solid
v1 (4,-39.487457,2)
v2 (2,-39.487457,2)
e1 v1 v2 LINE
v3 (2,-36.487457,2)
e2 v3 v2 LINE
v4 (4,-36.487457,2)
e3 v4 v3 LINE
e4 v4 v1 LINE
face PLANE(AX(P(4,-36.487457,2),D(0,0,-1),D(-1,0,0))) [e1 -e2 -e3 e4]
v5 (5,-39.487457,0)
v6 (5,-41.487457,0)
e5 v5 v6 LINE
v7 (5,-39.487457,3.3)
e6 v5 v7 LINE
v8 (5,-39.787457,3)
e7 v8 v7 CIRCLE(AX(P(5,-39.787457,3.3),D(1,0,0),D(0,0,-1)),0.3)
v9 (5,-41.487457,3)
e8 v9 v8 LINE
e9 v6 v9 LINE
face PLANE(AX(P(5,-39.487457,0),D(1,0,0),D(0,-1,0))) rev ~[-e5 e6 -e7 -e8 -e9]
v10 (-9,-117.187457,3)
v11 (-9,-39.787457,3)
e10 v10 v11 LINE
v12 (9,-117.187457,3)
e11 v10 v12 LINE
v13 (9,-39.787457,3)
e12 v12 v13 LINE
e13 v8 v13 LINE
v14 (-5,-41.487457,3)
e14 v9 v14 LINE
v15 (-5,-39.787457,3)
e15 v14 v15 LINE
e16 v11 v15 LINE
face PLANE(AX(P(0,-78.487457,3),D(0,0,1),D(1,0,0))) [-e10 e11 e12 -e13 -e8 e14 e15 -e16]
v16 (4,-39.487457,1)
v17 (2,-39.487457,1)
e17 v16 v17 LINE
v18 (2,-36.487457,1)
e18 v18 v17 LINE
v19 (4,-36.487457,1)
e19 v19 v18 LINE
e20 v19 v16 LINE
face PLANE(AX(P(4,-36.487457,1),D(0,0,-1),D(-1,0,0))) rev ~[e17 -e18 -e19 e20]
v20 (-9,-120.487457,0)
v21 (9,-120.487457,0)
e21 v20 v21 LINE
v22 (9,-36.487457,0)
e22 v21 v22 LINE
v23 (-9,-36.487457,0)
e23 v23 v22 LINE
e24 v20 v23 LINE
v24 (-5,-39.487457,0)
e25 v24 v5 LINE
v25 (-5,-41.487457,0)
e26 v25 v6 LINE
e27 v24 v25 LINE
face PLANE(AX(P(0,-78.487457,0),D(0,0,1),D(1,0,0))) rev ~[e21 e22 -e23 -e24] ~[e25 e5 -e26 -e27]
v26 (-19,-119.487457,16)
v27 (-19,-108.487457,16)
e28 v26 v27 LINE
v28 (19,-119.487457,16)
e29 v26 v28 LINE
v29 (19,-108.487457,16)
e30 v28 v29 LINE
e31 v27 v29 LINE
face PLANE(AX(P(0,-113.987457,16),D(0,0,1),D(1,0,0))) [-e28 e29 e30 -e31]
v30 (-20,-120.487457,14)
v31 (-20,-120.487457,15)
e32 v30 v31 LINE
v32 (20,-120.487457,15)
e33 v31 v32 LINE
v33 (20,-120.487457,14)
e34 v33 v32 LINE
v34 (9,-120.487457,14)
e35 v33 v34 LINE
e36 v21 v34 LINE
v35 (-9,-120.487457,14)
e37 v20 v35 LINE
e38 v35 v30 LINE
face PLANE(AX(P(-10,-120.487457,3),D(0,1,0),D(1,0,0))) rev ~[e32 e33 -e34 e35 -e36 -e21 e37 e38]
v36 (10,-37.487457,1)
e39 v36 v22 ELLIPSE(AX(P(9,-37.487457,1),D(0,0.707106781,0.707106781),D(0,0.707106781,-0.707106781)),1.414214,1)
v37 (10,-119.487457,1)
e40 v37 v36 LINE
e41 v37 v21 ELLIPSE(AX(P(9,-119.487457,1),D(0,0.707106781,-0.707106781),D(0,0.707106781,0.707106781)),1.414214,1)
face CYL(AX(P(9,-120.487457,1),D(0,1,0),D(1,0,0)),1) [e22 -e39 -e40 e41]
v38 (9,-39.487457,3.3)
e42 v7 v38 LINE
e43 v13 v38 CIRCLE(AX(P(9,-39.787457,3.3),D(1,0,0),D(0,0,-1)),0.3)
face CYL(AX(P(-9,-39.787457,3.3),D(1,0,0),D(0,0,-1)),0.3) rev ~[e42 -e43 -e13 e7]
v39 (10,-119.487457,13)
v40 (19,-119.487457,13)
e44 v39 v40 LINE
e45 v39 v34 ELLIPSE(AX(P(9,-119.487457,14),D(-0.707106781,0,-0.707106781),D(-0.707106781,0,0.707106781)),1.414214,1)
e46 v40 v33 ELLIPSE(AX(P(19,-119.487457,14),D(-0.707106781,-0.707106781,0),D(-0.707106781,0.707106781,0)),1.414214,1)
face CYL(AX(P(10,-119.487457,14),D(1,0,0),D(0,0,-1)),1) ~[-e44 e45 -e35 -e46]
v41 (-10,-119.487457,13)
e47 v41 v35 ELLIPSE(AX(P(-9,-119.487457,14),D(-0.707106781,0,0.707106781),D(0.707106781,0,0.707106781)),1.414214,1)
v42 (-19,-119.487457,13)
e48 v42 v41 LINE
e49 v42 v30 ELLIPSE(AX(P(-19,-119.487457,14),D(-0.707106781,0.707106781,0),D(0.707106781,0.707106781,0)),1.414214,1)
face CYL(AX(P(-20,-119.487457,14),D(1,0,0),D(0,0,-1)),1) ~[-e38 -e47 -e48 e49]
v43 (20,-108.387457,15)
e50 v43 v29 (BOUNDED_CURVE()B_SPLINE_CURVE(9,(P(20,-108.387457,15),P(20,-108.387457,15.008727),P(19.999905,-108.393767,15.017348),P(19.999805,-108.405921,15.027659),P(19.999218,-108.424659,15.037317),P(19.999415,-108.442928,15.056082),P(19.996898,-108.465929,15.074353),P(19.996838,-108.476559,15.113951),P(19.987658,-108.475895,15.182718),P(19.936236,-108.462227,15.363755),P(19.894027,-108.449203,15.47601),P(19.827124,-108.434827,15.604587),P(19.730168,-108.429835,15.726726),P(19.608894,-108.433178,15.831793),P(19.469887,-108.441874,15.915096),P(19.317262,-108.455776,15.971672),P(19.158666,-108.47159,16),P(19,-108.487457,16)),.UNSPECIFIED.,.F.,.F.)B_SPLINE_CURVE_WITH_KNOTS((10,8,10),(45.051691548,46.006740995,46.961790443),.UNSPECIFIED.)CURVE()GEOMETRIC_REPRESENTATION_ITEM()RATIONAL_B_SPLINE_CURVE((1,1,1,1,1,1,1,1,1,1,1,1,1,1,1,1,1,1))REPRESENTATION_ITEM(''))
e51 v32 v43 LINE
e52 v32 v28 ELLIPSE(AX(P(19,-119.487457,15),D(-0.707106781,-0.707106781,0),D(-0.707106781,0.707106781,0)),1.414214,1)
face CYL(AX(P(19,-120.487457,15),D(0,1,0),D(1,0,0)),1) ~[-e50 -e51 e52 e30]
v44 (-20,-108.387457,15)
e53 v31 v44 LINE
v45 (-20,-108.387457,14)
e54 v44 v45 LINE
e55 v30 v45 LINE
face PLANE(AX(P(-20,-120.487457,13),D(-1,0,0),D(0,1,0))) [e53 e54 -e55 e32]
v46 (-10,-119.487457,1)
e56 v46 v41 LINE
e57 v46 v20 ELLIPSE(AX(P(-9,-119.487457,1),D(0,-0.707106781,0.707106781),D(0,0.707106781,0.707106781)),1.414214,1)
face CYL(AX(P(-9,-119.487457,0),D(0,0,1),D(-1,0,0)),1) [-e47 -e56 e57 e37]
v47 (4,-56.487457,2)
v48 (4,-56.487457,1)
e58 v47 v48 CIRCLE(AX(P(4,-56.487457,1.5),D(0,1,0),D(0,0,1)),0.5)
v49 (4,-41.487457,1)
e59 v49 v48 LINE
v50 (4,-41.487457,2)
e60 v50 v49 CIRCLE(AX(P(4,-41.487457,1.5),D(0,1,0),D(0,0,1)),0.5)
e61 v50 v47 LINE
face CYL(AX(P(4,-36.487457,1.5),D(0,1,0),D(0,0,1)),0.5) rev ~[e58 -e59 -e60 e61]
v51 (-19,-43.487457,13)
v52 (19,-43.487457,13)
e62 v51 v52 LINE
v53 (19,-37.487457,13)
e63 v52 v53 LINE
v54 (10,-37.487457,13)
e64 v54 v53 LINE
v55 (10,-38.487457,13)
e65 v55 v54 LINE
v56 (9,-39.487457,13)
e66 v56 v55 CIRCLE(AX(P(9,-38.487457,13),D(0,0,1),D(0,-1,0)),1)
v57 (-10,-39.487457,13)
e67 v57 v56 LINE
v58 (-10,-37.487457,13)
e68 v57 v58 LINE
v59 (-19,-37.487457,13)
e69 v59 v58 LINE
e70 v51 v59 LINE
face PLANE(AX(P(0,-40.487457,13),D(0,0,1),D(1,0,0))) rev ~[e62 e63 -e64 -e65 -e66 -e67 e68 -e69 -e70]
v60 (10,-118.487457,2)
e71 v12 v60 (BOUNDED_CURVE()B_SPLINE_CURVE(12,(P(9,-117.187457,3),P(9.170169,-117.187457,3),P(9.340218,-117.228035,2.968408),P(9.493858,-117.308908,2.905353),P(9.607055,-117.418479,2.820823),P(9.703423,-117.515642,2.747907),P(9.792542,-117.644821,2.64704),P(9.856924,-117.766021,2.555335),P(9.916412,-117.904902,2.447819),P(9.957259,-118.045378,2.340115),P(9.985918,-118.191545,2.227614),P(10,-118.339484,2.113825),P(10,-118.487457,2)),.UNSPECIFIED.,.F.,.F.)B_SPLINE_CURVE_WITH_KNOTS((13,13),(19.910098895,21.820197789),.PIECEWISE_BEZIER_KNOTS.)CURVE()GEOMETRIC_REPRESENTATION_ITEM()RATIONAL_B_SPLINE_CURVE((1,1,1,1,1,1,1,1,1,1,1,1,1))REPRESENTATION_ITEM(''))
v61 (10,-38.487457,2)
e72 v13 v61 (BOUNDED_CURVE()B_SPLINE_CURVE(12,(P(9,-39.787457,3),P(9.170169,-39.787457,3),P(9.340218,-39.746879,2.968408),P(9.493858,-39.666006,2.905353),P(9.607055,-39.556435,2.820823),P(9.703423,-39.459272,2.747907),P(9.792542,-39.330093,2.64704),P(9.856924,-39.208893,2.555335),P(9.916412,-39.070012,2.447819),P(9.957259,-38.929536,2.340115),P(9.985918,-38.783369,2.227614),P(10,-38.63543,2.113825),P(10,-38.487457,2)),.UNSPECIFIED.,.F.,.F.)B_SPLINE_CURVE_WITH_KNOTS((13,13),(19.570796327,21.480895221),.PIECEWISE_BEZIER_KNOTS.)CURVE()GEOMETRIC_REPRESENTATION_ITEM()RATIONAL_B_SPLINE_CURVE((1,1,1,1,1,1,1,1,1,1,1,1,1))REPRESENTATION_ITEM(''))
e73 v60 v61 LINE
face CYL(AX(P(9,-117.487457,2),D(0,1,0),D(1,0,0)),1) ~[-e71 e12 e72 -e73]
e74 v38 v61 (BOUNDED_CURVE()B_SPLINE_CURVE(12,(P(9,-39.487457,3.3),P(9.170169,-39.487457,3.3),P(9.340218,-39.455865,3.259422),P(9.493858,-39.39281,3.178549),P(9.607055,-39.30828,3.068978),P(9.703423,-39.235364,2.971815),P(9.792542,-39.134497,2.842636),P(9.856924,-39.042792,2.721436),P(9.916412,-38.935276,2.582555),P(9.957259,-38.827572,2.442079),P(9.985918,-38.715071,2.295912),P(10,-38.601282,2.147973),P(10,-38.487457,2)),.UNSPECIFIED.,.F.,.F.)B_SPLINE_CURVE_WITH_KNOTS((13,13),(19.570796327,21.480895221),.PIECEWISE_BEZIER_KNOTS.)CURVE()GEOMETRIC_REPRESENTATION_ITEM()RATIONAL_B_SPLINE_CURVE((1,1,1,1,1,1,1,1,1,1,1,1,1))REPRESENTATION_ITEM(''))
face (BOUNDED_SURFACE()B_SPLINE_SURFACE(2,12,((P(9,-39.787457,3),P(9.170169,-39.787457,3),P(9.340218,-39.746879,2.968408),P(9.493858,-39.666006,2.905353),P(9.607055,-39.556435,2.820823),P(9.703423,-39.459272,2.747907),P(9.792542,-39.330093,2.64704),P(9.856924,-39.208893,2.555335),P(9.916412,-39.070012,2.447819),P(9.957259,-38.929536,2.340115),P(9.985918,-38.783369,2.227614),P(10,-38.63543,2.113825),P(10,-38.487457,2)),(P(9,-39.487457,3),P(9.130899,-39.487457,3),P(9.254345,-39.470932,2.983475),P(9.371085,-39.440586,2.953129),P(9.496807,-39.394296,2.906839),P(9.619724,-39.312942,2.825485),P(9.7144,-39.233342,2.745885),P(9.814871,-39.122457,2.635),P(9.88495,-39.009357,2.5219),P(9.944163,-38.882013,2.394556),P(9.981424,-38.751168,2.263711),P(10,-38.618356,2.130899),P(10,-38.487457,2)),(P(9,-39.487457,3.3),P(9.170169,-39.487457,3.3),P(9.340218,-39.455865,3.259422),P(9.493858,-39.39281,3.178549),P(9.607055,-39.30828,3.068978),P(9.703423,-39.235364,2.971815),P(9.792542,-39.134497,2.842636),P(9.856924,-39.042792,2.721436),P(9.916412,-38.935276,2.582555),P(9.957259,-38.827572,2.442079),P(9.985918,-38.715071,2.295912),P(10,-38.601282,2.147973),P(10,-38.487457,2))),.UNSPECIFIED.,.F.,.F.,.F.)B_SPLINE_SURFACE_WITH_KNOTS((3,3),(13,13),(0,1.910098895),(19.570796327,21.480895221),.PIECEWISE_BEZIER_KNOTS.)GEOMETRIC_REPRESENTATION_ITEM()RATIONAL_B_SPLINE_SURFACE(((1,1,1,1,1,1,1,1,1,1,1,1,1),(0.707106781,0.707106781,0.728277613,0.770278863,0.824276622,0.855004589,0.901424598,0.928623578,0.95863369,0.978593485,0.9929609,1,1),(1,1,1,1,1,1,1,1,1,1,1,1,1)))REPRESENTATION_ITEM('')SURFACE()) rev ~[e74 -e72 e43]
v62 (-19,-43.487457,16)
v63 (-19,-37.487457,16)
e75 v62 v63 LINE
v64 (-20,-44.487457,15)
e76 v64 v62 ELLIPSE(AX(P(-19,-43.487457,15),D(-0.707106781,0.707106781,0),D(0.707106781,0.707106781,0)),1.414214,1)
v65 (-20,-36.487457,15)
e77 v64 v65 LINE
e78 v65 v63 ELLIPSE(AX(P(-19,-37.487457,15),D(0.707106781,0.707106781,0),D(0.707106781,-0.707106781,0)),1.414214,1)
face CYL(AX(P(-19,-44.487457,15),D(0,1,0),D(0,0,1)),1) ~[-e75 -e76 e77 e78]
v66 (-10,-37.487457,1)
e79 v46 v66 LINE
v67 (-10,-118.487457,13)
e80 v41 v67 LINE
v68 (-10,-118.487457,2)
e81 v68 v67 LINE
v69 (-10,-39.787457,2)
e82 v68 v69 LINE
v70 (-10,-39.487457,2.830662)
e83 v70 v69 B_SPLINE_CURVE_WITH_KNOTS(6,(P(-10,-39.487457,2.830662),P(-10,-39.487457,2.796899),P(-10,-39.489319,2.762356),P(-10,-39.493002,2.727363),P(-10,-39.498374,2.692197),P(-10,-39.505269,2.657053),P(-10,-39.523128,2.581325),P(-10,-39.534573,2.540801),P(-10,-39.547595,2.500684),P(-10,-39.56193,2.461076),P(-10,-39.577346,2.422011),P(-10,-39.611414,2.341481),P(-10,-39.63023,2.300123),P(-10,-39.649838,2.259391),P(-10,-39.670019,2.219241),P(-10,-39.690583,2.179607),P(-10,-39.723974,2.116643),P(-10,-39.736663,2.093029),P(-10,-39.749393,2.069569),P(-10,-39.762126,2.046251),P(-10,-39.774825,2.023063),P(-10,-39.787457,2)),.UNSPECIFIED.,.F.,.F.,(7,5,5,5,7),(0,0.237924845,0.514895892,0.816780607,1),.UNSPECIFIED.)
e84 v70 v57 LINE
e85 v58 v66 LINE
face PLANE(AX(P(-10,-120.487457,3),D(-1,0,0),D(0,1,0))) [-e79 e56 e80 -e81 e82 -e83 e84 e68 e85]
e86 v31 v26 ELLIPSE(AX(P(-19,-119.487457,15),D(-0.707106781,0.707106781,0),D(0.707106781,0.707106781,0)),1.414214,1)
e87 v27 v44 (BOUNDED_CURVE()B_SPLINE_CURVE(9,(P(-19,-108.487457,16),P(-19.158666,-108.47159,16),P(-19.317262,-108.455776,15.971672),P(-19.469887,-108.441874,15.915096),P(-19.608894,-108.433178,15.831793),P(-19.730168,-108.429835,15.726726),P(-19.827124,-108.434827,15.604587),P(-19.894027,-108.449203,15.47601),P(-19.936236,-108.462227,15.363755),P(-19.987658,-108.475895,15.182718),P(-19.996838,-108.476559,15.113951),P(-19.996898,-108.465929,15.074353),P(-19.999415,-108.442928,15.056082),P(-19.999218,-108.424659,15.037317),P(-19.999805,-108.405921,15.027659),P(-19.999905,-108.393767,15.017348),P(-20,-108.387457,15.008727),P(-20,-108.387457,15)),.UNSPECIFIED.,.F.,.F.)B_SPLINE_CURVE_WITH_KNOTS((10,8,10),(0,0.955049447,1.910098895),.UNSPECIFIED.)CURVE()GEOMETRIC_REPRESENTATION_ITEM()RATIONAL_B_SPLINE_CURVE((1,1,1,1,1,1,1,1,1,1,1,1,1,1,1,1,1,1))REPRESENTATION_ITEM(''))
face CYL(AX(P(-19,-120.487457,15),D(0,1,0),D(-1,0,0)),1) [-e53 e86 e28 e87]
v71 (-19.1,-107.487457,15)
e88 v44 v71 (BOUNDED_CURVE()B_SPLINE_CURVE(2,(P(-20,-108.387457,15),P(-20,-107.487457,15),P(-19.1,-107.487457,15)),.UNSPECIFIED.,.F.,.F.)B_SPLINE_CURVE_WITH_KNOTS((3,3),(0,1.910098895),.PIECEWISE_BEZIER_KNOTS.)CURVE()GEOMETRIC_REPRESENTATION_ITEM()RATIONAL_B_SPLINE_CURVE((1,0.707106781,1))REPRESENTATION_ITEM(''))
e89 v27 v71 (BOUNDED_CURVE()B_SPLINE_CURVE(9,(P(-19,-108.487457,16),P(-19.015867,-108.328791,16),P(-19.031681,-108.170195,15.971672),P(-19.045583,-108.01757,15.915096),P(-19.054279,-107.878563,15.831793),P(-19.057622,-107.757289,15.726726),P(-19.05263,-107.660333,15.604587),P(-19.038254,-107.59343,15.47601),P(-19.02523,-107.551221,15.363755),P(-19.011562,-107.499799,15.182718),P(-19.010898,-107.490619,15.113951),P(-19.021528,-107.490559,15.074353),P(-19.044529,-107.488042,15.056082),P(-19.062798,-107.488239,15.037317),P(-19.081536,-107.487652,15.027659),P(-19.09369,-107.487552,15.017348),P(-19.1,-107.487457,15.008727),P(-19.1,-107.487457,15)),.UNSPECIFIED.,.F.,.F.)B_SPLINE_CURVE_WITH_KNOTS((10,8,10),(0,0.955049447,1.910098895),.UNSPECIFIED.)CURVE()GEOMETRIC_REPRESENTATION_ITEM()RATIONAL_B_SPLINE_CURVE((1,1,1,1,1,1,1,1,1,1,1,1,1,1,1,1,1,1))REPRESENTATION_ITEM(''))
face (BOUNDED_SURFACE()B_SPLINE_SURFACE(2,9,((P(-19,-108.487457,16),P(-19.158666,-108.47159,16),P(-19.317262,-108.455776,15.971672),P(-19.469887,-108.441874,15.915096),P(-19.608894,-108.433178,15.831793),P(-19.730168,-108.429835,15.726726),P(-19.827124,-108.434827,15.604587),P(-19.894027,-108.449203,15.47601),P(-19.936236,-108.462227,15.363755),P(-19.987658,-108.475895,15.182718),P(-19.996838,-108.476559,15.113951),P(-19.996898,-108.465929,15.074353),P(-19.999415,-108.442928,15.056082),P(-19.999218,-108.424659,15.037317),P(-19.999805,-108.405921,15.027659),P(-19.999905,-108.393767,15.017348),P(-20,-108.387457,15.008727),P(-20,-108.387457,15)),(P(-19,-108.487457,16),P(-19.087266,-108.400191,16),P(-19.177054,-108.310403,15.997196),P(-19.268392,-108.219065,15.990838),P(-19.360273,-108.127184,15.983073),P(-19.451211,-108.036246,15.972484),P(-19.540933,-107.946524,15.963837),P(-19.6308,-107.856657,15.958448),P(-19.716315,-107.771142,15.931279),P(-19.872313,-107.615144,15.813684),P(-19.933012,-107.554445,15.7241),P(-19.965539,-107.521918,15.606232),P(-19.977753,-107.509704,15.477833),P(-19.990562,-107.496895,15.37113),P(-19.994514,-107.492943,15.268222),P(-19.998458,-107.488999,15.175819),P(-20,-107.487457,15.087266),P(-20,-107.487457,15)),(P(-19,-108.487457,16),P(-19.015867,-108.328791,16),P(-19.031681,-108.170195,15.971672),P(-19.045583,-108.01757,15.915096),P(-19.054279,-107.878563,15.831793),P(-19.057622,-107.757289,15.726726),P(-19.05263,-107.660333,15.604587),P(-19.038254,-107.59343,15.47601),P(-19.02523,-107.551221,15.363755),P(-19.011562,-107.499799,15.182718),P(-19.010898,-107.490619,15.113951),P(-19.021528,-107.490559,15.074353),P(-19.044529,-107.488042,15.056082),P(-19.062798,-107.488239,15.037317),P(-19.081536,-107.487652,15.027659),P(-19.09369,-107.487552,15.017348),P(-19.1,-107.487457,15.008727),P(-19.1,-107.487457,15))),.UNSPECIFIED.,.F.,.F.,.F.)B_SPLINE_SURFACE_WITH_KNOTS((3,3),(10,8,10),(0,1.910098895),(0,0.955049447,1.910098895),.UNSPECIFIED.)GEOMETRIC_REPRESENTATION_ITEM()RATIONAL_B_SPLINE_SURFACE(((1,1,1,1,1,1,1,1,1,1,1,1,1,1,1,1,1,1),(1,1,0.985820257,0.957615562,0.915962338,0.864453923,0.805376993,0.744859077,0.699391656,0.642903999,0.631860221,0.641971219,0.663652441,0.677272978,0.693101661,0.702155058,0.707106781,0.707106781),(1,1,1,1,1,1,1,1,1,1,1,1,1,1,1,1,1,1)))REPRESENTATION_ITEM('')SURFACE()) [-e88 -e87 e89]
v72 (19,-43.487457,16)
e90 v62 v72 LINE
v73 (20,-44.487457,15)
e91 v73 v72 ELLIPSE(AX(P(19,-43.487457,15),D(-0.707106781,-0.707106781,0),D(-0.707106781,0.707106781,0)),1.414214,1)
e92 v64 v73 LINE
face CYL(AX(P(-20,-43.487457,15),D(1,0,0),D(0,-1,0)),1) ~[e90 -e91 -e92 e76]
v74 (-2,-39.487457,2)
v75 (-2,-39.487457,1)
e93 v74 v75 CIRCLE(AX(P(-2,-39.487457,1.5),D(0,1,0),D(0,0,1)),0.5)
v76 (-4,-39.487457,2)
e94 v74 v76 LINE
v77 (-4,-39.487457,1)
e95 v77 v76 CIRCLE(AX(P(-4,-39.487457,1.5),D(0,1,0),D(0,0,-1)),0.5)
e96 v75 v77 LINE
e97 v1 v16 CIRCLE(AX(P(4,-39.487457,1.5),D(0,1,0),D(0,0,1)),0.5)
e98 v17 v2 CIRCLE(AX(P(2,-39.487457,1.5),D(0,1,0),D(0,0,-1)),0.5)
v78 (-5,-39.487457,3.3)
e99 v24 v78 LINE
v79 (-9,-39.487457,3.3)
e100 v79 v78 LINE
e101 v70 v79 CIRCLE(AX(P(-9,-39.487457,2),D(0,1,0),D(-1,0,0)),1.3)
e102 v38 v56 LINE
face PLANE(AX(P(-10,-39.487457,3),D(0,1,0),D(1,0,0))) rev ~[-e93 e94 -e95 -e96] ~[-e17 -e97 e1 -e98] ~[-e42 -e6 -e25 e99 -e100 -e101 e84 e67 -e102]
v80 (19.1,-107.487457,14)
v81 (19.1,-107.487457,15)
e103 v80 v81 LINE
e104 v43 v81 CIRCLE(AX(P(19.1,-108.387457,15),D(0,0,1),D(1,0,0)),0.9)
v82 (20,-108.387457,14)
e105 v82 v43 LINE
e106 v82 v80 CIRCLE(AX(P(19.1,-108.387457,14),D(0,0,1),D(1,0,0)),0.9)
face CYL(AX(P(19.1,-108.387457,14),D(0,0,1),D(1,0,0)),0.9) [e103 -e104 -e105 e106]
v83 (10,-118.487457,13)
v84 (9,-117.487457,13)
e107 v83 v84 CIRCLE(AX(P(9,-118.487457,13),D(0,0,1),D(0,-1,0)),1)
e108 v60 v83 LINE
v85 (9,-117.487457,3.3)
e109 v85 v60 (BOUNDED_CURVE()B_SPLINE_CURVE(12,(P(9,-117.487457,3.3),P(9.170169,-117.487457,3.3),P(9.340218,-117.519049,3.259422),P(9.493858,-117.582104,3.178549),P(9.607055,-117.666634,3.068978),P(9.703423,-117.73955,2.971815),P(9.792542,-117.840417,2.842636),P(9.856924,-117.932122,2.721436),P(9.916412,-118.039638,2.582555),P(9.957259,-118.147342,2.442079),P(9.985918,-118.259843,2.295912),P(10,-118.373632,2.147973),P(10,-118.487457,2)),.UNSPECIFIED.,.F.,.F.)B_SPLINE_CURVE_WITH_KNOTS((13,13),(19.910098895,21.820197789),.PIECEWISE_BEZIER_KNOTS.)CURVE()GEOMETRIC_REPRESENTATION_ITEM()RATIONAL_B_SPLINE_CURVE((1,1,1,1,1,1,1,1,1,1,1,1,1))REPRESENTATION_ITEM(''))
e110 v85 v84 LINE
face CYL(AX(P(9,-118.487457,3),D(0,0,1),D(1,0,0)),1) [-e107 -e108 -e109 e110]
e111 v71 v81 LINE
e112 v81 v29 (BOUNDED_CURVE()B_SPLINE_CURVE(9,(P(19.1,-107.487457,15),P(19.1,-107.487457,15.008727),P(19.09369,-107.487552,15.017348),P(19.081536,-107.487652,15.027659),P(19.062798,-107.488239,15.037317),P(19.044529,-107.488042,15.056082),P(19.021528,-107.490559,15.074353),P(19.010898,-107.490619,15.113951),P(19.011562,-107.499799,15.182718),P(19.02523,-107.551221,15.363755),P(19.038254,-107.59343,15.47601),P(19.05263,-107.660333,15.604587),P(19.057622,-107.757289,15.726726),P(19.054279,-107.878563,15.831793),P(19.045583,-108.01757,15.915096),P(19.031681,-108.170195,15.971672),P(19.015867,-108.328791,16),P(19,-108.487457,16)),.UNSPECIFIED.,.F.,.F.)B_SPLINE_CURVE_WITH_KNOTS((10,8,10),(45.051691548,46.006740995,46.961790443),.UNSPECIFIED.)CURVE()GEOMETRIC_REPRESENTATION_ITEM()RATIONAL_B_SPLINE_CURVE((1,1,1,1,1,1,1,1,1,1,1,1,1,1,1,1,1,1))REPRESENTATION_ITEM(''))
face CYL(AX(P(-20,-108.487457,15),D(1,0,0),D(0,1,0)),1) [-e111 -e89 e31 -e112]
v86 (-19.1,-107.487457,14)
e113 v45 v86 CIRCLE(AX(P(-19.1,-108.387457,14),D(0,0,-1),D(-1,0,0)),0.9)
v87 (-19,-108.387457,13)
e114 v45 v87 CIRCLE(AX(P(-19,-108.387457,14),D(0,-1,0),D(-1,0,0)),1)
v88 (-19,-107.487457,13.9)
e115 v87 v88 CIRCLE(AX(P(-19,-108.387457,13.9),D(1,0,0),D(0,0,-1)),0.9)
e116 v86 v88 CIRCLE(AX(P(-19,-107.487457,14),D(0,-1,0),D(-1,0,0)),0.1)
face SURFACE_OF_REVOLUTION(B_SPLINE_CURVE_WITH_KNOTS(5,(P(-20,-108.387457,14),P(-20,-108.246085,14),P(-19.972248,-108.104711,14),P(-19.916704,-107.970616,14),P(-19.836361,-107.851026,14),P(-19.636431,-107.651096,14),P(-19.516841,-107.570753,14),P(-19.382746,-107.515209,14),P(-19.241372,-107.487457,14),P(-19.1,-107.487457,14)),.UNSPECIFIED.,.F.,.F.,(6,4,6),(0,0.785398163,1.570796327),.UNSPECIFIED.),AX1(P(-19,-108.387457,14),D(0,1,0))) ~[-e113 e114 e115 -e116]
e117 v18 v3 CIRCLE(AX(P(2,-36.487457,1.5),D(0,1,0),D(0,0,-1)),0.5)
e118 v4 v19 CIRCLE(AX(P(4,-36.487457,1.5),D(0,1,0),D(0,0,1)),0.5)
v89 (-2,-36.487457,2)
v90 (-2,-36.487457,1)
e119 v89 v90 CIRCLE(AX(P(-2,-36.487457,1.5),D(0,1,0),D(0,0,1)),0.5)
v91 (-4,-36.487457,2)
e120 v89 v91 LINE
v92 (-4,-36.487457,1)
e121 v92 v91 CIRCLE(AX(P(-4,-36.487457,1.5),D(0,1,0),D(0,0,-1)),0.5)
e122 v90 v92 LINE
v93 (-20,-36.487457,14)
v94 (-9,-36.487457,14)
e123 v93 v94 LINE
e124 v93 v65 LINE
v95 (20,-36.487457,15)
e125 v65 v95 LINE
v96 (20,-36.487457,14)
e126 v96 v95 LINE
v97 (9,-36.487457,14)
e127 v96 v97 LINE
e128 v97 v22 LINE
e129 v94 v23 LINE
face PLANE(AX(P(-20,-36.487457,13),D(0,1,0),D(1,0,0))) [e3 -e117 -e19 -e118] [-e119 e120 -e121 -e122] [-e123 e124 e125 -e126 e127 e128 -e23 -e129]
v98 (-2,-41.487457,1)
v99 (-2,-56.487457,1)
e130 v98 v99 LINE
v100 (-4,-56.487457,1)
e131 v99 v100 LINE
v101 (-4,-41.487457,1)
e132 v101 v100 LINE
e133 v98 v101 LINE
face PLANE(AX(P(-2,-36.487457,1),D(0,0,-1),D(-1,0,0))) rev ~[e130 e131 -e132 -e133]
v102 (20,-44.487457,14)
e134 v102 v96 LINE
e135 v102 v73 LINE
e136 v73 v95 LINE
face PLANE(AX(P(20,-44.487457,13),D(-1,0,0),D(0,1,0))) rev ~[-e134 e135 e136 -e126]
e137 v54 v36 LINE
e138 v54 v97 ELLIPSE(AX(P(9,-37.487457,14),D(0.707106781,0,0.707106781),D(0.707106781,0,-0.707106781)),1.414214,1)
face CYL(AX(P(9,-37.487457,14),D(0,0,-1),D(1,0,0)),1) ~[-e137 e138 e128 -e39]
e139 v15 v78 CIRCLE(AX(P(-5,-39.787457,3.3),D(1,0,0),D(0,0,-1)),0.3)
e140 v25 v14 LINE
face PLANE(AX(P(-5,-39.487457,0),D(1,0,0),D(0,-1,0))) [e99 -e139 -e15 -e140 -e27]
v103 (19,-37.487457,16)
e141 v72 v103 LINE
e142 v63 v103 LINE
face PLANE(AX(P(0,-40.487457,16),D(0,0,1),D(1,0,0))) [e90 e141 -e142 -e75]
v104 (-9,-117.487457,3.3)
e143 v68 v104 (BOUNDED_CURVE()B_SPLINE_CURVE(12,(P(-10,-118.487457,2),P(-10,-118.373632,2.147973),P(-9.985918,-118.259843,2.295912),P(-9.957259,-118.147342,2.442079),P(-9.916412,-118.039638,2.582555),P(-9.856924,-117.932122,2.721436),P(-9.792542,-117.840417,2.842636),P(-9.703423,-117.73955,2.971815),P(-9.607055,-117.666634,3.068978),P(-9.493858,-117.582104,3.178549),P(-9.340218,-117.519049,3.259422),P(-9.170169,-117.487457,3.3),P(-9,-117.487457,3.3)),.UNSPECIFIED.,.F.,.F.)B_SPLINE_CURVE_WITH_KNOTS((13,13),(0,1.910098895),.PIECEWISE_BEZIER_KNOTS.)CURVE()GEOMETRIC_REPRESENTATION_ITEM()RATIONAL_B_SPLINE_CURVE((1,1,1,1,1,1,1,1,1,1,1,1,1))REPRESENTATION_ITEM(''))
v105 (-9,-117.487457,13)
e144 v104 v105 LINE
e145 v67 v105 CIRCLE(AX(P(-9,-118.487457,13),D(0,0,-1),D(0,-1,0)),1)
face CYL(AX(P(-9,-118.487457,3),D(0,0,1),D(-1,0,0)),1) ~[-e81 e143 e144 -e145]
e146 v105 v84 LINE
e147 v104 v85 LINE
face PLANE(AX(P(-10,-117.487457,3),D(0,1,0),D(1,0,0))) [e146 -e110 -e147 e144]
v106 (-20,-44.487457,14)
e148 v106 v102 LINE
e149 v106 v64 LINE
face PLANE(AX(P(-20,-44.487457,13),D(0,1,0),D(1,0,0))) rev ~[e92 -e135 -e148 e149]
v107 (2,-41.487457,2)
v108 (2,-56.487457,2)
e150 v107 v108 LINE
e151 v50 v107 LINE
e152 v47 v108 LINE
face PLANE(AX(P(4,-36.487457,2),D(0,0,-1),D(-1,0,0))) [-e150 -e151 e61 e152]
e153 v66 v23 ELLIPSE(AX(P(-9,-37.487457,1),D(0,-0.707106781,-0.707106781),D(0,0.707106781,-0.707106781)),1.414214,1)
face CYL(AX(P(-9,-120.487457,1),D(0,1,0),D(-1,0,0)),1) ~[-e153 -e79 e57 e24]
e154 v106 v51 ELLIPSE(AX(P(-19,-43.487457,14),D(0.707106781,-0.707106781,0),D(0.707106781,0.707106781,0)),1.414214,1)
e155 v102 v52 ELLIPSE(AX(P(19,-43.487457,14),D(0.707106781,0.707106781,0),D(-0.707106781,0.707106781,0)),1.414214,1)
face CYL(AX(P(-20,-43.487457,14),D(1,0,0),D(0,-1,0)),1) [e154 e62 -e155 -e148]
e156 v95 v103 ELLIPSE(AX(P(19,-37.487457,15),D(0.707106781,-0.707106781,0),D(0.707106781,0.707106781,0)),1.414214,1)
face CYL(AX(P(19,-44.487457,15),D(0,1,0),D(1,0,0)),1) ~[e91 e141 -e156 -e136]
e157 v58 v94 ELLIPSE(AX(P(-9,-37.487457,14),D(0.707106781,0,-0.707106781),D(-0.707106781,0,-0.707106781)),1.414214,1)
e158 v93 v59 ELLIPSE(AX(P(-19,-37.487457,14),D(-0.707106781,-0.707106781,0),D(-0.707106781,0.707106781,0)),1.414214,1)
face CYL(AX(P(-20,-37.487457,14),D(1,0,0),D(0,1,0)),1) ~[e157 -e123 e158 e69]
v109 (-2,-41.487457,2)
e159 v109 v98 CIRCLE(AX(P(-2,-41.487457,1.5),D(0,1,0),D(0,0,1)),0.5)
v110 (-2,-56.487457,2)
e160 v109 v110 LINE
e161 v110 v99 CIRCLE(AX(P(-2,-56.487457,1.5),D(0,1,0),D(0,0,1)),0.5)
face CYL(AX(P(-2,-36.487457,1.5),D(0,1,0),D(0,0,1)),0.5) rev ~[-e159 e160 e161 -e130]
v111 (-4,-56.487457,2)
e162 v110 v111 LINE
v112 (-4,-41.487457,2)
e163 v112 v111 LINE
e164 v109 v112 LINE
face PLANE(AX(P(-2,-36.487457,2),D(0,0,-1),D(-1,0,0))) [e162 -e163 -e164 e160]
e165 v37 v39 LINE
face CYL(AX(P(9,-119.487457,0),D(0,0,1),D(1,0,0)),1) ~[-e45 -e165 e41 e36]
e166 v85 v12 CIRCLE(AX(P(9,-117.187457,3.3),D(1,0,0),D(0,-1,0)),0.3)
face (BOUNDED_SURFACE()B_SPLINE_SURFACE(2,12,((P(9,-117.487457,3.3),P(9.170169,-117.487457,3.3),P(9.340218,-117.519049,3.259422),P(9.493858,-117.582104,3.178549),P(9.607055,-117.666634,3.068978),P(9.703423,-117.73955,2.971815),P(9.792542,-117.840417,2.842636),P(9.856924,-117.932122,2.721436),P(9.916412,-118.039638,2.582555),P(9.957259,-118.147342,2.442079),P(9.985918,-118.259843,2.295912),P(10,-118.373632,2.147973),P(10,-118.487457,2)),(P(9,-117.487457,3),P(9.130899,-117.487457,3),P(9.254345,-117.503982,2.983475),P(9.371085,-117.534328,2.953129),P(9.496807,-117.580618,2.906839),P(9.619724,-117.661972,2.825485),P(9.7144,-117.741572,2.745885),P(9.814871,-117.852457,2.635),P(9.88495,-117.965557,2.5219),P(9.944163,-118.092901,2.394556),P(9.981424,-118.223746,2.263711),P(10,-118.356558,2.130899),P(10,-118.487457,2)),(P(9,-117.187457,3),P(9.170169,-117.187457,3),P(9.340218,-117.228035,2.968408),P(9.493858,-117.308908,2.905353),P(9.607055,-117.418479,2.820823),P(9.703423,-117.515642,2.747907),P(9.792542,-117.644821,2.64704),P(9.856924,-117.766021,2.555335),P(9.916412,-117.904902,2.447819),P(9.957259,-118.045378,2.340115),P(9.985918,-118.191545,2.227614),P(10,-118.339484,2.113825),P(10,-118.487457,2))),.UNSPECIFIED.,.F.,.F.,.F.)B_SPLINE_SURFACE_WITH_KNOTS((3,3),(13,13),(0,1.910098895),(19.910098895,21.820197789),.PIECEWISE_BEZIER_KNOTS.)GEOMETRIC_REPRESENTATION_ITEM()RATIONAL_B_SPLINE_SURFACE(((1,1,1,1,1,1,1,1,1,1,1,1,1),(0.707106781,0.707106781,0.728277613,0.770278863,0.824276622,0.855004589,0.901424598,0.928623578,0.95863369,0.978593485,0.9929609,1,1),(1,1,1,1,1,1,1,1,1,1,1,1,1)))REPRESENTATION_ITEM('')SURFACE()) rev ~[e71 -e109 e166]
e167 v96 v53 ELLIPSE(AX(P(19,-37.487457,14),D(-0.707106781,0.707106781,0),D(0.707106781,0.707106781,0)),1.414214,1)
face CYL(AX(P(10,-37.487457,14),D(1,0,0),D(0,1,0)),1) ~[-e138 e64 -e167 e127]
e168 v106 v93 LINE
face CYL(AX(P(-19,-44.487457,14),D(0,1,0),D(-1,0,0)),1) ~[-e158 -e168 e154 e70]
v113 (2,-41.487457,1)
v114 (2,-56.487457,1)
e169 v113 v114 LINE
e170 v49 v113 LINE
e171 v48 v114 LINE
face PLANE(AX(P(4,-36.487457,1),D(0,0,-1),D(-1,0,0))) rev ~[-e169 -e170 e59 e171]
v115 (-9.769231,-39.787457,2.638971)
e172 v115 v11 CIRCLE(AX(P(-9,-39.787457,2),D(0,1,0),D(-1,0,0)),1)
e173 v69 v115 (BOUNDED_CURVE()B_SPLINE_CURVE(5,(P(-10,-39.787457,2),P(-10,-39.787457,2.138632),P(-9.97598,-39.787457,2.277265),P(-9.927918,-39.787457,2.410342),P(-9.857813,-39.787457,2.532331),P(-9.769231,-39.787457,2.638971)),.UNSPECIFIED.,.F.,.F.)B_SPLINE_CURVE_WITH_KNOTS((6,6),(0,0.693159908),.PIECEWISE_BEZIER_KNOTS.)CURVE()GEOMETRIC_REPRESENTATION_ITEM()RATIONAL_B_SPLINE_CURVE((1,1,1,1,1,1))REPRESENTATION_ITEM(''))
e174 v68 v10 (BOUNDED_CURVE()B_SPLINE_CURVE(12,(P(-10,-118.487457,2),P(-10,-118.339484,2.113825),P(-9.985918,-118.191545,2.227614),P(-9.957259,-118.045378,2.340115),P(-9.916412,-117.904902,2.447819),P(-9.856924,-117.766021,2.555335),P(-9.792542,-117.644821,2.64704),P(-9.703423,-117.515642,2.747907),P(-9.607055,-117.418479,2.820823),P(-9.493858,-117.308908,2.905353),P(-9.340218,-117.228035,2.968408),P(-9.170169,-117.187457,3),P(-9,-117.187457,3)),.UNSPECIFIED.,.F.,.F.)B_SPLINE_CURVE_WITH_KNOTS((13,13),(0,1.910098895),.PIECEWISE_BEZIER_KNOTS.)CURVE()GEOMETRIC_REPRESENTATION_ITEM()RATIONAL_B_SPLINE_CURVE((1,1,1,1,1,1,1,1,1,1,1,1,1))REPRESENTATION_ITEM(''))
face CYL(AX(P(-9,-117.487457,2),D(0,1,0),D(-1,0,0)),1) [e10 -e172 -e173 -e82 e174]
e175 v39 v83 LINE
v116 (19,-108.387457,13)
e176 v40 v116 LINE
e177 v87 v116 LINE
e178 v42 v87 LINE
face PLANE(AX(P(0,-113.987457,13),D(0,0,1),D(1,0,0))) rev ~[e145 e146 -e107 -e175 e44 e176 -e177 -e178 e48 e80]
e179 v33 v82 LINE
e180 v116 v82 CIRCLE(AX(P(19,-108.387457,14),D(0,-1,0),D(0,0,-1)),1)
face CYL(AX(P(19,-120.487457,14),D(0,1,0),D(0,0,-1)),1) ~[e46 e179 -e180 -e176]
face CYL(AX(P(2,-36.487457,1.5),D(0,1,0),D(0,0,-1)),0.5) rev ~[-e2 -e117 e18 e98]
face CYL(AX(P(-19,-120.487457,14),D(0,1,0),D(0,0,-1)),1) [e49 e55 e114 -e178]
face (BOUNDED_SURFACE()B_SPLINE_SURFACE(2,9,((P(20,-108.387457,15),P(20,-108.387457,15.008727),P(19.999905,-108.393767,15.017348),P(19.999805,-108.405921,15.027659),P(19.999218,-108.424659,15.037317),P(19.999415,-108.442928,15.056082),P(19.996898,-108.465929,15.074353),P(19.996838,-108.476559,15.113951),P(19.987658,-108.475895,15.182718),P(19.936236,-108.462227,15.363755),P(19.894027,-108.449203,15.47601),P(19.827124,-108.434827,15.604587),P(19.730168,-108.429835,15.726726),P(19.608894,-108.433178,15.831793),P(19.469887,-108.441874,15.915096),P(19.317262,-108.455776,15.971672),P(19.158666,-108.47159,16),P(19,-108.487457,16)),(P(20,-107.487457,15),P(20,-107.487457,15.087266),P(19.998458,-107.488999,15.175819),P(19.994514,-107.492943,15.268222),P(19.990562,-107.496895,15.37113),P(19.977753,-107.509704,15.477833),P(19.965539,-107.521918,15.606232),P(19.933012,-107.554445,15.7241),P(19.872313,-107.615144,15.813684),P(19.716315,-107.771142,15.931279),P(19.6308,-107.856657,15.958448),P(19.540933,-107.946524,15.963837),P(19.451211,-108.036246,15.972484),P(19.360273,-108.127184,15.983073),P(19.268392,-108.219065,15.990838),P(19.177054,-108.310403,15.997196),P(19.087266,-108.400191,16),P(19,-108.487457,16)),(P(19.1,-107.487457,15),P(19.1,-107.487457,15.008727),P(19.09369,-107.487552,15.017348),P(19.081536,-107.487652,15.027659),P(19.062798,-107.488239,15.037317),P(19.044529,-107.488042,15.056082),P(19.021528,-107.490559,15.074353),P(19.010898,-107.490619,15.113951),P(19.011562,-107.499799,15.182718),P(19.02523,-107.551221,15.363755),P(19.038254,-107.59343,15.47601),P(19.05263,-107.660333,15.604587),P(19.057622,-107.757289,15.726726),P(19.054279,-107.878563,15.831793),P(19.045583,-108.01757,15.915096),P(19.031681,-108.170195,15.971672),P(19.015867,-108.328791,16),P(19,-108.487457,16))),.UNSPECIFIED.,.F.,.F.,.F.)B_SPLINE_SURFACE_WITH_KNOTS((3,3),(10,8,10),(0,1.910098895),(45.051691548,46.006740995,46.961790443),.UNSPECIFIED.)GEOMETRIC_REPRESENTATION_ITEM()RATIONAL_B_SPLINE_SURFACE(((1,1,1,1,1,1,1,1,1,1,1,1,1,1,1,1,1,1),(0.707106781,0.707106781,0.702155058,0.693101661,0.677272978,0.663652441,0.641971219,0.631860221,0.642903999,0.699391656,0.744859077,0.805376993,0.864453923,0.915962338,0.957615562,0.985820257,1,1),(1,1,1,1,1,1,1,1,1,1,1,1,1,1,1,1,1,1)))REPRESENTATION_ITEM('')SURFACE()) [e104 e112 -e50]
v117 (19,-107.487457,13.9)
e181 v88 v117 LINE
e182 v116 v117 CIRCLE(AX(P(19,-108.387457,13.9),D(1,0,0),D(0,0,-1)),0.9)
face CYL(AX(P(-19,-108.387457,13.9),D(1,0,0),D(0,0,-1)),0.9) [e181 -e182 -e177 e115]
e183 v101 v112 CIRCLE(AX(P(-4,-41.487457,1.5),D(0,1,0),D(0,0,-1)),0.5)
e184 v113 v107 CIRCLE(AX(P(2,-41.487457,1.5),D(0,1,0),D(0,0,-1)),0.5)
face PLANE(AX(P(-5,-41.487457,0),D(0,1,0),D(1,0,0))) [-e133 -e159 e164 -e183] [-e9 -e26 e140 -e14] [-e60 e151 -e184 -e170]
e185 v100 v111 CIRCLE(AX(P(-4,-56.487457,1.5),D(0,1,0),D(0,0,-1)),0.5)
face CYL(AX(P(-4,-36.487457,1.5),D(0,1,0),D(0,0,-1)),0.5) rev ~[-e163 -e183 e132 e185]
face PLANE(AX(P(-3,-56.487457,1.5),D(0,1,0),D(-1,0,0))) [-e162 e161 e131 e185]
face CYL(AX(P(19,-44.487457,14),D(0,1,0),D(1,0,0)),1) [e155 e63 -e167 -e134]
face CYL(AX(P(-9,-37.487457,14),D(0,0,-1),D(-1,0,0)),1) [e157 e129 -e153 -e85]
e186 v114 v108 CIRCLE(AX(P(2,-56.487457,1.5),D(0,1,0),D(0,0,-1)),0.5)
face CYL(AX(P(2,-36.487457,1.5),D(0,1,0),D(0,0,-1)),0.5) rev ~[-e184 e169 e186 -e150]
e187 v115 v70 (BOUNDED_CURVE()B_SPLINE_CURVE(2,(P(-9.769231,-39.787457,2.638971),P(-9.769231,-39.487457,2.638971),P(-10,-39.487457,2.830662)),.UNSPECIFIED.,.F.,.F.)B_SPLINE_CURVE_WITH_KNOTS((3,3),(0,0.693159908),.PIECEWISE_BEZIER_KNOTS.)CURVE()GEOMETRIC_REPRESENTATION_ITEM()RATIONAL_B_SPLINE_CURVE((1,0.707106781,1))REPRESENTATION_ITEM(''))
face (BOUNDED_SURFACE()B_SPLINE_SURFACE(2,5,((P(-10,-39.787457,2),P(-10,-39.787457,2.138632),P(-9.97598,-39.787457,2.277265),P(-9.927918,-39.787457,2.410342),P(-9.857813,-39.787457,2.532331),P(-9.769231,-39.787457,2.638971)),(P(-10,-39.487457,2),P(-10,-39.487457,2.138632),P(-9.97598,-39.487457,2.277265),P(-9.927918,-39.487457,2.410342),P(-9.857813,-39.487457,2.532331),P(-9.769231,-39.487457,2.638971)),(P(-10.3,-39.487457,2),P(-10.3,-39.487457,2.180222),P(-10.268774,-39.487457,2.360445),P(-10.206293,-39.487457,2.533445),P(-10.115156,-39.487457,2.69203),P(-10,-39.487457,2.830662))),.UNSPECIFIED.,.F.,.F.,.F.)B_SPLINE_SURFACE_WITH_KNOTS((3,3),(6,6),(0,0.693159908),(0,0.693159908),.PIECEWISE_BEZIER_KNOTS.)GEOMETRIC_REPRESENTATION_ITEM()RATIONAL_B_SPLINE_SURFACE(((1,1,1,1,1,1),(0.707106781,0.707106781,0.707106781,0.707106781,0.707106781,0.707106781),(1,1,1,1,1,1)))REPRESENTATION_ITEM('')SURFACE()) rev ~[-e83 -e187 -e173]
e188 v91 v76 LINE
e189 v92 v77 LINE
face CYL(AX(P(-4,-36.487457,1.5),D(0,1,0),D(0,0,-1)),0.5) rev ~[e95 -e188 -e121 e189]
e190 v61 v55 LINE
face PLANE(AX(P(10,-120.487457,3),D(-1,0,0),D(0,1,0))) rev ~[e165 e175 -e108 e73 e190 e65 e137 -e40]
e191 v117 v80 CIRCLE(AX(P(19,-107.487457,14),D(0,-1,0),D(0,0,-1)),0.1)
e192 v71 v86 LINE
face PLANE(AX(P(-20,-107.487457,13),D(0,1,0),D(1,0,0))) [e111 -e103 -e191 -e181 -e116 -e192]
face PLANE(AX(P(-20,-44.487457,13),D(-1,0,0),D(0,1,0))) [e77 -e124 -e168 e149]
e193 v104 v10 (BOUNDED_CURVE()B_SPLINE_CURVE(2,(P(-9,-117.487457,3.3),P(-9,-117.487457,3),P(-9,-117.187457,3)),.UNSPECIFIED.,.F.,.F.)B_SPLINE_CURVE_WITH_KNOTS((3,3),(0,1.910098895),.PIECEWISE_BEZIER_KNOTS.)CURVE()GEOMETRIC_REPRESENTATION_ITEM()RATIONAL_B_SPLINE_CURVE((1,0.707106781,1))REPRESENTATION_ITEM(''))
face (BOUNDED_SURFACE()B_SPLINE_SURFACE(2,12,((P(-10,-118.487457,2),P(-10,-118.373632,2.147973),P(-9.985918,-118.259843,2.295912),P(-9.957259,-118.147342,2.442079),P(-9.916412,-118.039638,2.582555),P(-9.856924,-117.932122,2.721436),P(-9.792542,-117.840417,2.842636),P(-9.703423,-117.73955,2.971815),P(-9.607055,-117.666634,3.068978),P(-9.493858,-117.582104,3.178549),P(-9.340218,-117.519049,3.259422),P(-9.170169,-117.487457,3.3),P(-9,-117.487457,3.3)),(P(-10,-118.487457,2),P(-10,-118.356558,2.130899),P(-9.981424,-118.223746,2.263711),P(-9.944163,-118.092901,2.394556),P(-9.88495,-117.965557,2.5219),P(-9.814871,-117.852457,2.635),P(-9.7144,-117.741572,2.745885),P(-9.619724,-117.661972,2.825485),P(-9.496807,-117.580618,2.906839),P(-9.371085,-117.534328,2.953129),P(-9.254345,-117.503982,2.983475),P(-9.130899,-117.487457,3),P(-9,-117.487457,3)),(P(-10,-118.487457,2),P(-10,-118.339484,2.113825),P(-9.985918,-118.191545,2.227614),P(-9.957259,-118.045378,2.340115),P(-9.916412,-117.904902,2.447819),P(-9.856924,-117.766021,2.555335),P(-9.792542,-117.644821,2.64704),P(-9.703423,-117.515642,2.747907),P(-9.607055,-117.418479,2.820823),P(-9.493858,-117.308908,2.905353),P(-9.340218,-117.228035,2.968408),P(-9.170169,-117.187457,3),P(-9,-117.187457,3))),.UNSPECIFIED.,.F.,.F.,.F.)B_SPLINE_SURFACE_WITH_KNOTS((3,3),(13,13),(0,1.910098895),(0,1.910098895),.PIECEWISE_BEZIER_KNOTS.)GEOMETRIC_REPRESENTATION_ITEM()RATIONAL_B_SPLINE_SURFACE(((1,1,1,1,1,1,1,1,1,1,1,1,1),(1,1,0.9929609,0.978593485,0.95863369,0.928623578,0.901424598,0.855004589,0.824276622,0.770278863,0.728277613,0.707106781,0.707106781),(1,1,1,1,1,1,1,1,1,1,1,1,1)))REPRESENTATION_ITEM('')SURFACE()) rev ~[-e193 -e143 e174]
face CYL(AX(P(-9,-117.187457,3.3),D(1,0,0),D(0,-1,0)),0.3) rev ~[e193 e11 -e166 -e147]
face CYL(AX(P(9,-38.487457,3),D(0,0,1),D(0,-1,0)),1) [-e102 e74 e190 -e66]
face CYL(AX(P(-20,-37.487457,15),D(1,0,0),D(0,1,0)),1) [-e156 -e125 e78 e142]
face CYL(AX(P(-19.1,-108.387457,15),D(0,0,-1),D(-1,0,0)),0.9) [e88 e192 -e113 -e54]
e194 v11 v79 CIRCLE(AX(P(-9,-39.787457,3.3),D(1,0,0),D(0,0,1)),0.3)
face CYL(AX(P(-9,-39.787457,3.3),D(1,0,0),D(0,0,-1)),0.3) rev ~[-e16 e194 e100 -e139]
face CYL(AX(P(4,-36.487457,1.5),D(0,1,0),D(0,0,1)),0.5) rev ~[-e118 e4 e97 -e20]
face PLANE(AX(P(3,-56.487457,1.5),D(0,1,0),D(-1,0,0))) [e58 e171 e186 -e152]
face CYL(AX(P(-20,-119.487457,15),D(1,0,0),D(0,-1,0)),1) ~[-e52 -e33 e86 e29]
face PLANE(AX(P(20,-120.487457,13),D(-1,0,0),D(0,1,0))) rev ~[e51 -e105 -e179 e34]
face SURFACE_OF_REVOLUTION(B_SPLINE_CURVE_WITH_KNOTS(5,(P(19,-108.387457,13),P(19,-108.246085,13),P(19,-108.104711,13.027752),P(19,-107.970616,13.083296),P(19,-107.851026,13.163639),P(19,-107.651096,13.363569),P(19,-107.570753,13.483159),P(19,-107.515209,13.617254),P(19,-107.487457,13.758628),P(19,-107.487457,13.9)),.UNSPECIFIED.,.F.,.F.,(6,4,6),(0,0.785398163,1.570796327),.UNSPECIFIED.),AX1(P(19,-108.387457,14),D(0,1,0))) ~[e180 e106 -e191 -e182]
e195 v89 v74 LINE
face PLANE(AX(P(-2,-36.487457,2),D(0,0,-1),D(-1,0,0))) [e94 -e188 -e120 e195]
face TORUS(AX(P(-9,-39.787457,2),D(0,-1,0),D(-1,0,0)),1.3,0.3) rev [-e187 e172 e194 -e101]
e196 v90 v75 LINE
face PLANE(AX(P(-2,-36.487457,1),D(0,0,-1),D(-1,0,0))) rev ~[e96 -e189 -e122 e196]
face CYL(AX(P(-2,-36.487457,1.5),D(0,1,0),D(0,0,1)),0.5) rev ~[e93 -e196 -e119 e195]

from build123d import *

# Parameters (mm, degrees)
SKETCH001_W     = 20
SKETCH001_H     = 84
PAD001_DEPTH    = 3
SKETCH002_W     = 20
SKETCH002_H     = 3
PAD002_DEPTH    = 10
SKETCH003_W     = 40
SKETCH003_H     = 8
SKETCH003_H_2   = 13
PAD003_DEPTH    = 3
FILLET_R        = 1
FILLET001_R     = 1
FILLET002_R     = 1
FILLET003_R     = 0.3
FILLET004_R     = 0.9
SKETCH009_W     = 10
SKETCH009_H     = 2
POCKET004_DEPTH = 5
POCKET005_DEPTH = 20


with BuildPart() as part:
    # Sketch001 → Pad001 (new body)
    with BuildSketch(Plane.XY):
        with Locations((0, -78.487457)):
            Rectangle(SKETCH001_W, SKETCH001_H)
    extrude(amount=PAD001_DEPTH)

    # Sketch002 → Pad002 (new body)
    with BuildSketch(Plane.XY.offset(3)):
        with Locations((0, -118.987457)):
            Rectangle(SKETCH002_W, SKETCH002_H)
        with Locations((0, -37.987457)):
            Rectangle(SKETCH002_W, SKETCH002_H)
    extrude(amount=PAD002_DEPTH)

    # Sketch003 → Pad003 (new body)
    with BuildSketch(Plane.XY.offset(13)):
        with Locations((0, -40.487457)):
            Rectangle(SKETCH003_W, SKETCH003_H)
        with Locations((0, -113.987457)):
            Rectangle(SKETCH003_W, SKETCH003_H_2)
    extrude(amount=PAD003_DEPTH)

    # Fillet
    fillet_edges = [part.edges().sort_by_distance(p)[0] for p in [
        (20, -113.987457, 16),
        (20, -113.987457, 13),
        (-20, -113.987457, 16),
        (0, -107.487457, 16),
        (0, -120.487457, 16),
        (-20, -113.987457, 13),
        (-15, -120.487457, 13),
        (15, -120.487457, 13),
    ]]
    fillet(fillet_edges, radius=FILLET_R)

    # Fillet001
    fillet001_edges = [part.edges().sort_by_distance(p)[0] for p in [
        (20, -40.487457, 16),
        (0, -44.487457, 16),
        (0, -36.487457, 16),
        (-20, -40.487457, 16),
        (-20, -40.487457, 13),
        (-15, -36.487457, 13),
        (15, -36.487457, 13),
        (20, -40.487457, 13),
        (0, -44.487457, 13),
    ]]
    fillet(fillet001_edges, radius=FILLET001_R)

    # Fillet002
    fillet002_edges = [part.edges().sort_by_distance(p)[0] for p in [
        (-10, -78.487457, 3),
        (-10, -117.487457, 8),
        (-10, -120.487457, 6.5),
        (-10, -78.487457, 0),
        (-10, -36.487457, 6.5),
        (10, -39.487457, 8),
        (10, -36.487457, 6.5),
        (10, -78.487457, 0),
        (10, -78.487457, 3),
        (10, -117.487457, 8),
        (10, -120.487457, 6.5),
    ]]
    fillet(fillet002_edges, radius=FILLET002_R)

    # Fillet003
    fillet003_edges = [part.edges().sort_by_distance(p)[0] for p in [
        (0, -39.487457, 3),
        (0, -117.487457, 3),
    ]]
    fillet(fillet003_edges, radius=FILLET003_R)

    # Fillet004
    fillet004_edges = [part.edges().sort_by_distance(p)[0] for p in [
        (0, -107.487457, 13),
    ]]
    fillet(fillet004_edges, radius=FILLET004_R)

    # Sketch009 → Pocket004 (cut)
    with BuildSketch(Plane(origin=(0, 0, 0), x_dir=(1, 0, 0), z_dir=(0, 0, -1))):
        with Locations((0, 40.487457)):
            Rectangle(SKETCH009_W, SKETCH009_H)
    extrude(amount=-POCKET004_DEPTH, mode=Mode.SUBTRACT)

    # Sketch012 → Pocket005 (cut)
    with BuildSketch(Plane(origin=(0, -36.487457, 0), x_dir=(-1, 0, 0), z_dir=(0, 1, 0))):
        with BuildLine():
            ThreePointArc((-4, 2), (-4.5, 1.5), (-4, 1))
            Line((-4, 1), (-2, 1))
            ThreePointArc((-2, 1), (-1.5, 1.5), (-2, 2))
            Line((-4, 2), (-2, 2))
        make_face()
        with BuildLine():
            ThreePointArc((2, 2), (1.5, 1.5), (2, 1))
            Line((2, 1), (4, 1))
            ThreePointArc((4, 1), (4.5, 1.5), (4, 2))
            Line((2, 2), (4, 2))
        make_face()
    extrude(amount=-POCKET005_DEPTH, mode=Mode.SUBTRACT)


solid = part.part
